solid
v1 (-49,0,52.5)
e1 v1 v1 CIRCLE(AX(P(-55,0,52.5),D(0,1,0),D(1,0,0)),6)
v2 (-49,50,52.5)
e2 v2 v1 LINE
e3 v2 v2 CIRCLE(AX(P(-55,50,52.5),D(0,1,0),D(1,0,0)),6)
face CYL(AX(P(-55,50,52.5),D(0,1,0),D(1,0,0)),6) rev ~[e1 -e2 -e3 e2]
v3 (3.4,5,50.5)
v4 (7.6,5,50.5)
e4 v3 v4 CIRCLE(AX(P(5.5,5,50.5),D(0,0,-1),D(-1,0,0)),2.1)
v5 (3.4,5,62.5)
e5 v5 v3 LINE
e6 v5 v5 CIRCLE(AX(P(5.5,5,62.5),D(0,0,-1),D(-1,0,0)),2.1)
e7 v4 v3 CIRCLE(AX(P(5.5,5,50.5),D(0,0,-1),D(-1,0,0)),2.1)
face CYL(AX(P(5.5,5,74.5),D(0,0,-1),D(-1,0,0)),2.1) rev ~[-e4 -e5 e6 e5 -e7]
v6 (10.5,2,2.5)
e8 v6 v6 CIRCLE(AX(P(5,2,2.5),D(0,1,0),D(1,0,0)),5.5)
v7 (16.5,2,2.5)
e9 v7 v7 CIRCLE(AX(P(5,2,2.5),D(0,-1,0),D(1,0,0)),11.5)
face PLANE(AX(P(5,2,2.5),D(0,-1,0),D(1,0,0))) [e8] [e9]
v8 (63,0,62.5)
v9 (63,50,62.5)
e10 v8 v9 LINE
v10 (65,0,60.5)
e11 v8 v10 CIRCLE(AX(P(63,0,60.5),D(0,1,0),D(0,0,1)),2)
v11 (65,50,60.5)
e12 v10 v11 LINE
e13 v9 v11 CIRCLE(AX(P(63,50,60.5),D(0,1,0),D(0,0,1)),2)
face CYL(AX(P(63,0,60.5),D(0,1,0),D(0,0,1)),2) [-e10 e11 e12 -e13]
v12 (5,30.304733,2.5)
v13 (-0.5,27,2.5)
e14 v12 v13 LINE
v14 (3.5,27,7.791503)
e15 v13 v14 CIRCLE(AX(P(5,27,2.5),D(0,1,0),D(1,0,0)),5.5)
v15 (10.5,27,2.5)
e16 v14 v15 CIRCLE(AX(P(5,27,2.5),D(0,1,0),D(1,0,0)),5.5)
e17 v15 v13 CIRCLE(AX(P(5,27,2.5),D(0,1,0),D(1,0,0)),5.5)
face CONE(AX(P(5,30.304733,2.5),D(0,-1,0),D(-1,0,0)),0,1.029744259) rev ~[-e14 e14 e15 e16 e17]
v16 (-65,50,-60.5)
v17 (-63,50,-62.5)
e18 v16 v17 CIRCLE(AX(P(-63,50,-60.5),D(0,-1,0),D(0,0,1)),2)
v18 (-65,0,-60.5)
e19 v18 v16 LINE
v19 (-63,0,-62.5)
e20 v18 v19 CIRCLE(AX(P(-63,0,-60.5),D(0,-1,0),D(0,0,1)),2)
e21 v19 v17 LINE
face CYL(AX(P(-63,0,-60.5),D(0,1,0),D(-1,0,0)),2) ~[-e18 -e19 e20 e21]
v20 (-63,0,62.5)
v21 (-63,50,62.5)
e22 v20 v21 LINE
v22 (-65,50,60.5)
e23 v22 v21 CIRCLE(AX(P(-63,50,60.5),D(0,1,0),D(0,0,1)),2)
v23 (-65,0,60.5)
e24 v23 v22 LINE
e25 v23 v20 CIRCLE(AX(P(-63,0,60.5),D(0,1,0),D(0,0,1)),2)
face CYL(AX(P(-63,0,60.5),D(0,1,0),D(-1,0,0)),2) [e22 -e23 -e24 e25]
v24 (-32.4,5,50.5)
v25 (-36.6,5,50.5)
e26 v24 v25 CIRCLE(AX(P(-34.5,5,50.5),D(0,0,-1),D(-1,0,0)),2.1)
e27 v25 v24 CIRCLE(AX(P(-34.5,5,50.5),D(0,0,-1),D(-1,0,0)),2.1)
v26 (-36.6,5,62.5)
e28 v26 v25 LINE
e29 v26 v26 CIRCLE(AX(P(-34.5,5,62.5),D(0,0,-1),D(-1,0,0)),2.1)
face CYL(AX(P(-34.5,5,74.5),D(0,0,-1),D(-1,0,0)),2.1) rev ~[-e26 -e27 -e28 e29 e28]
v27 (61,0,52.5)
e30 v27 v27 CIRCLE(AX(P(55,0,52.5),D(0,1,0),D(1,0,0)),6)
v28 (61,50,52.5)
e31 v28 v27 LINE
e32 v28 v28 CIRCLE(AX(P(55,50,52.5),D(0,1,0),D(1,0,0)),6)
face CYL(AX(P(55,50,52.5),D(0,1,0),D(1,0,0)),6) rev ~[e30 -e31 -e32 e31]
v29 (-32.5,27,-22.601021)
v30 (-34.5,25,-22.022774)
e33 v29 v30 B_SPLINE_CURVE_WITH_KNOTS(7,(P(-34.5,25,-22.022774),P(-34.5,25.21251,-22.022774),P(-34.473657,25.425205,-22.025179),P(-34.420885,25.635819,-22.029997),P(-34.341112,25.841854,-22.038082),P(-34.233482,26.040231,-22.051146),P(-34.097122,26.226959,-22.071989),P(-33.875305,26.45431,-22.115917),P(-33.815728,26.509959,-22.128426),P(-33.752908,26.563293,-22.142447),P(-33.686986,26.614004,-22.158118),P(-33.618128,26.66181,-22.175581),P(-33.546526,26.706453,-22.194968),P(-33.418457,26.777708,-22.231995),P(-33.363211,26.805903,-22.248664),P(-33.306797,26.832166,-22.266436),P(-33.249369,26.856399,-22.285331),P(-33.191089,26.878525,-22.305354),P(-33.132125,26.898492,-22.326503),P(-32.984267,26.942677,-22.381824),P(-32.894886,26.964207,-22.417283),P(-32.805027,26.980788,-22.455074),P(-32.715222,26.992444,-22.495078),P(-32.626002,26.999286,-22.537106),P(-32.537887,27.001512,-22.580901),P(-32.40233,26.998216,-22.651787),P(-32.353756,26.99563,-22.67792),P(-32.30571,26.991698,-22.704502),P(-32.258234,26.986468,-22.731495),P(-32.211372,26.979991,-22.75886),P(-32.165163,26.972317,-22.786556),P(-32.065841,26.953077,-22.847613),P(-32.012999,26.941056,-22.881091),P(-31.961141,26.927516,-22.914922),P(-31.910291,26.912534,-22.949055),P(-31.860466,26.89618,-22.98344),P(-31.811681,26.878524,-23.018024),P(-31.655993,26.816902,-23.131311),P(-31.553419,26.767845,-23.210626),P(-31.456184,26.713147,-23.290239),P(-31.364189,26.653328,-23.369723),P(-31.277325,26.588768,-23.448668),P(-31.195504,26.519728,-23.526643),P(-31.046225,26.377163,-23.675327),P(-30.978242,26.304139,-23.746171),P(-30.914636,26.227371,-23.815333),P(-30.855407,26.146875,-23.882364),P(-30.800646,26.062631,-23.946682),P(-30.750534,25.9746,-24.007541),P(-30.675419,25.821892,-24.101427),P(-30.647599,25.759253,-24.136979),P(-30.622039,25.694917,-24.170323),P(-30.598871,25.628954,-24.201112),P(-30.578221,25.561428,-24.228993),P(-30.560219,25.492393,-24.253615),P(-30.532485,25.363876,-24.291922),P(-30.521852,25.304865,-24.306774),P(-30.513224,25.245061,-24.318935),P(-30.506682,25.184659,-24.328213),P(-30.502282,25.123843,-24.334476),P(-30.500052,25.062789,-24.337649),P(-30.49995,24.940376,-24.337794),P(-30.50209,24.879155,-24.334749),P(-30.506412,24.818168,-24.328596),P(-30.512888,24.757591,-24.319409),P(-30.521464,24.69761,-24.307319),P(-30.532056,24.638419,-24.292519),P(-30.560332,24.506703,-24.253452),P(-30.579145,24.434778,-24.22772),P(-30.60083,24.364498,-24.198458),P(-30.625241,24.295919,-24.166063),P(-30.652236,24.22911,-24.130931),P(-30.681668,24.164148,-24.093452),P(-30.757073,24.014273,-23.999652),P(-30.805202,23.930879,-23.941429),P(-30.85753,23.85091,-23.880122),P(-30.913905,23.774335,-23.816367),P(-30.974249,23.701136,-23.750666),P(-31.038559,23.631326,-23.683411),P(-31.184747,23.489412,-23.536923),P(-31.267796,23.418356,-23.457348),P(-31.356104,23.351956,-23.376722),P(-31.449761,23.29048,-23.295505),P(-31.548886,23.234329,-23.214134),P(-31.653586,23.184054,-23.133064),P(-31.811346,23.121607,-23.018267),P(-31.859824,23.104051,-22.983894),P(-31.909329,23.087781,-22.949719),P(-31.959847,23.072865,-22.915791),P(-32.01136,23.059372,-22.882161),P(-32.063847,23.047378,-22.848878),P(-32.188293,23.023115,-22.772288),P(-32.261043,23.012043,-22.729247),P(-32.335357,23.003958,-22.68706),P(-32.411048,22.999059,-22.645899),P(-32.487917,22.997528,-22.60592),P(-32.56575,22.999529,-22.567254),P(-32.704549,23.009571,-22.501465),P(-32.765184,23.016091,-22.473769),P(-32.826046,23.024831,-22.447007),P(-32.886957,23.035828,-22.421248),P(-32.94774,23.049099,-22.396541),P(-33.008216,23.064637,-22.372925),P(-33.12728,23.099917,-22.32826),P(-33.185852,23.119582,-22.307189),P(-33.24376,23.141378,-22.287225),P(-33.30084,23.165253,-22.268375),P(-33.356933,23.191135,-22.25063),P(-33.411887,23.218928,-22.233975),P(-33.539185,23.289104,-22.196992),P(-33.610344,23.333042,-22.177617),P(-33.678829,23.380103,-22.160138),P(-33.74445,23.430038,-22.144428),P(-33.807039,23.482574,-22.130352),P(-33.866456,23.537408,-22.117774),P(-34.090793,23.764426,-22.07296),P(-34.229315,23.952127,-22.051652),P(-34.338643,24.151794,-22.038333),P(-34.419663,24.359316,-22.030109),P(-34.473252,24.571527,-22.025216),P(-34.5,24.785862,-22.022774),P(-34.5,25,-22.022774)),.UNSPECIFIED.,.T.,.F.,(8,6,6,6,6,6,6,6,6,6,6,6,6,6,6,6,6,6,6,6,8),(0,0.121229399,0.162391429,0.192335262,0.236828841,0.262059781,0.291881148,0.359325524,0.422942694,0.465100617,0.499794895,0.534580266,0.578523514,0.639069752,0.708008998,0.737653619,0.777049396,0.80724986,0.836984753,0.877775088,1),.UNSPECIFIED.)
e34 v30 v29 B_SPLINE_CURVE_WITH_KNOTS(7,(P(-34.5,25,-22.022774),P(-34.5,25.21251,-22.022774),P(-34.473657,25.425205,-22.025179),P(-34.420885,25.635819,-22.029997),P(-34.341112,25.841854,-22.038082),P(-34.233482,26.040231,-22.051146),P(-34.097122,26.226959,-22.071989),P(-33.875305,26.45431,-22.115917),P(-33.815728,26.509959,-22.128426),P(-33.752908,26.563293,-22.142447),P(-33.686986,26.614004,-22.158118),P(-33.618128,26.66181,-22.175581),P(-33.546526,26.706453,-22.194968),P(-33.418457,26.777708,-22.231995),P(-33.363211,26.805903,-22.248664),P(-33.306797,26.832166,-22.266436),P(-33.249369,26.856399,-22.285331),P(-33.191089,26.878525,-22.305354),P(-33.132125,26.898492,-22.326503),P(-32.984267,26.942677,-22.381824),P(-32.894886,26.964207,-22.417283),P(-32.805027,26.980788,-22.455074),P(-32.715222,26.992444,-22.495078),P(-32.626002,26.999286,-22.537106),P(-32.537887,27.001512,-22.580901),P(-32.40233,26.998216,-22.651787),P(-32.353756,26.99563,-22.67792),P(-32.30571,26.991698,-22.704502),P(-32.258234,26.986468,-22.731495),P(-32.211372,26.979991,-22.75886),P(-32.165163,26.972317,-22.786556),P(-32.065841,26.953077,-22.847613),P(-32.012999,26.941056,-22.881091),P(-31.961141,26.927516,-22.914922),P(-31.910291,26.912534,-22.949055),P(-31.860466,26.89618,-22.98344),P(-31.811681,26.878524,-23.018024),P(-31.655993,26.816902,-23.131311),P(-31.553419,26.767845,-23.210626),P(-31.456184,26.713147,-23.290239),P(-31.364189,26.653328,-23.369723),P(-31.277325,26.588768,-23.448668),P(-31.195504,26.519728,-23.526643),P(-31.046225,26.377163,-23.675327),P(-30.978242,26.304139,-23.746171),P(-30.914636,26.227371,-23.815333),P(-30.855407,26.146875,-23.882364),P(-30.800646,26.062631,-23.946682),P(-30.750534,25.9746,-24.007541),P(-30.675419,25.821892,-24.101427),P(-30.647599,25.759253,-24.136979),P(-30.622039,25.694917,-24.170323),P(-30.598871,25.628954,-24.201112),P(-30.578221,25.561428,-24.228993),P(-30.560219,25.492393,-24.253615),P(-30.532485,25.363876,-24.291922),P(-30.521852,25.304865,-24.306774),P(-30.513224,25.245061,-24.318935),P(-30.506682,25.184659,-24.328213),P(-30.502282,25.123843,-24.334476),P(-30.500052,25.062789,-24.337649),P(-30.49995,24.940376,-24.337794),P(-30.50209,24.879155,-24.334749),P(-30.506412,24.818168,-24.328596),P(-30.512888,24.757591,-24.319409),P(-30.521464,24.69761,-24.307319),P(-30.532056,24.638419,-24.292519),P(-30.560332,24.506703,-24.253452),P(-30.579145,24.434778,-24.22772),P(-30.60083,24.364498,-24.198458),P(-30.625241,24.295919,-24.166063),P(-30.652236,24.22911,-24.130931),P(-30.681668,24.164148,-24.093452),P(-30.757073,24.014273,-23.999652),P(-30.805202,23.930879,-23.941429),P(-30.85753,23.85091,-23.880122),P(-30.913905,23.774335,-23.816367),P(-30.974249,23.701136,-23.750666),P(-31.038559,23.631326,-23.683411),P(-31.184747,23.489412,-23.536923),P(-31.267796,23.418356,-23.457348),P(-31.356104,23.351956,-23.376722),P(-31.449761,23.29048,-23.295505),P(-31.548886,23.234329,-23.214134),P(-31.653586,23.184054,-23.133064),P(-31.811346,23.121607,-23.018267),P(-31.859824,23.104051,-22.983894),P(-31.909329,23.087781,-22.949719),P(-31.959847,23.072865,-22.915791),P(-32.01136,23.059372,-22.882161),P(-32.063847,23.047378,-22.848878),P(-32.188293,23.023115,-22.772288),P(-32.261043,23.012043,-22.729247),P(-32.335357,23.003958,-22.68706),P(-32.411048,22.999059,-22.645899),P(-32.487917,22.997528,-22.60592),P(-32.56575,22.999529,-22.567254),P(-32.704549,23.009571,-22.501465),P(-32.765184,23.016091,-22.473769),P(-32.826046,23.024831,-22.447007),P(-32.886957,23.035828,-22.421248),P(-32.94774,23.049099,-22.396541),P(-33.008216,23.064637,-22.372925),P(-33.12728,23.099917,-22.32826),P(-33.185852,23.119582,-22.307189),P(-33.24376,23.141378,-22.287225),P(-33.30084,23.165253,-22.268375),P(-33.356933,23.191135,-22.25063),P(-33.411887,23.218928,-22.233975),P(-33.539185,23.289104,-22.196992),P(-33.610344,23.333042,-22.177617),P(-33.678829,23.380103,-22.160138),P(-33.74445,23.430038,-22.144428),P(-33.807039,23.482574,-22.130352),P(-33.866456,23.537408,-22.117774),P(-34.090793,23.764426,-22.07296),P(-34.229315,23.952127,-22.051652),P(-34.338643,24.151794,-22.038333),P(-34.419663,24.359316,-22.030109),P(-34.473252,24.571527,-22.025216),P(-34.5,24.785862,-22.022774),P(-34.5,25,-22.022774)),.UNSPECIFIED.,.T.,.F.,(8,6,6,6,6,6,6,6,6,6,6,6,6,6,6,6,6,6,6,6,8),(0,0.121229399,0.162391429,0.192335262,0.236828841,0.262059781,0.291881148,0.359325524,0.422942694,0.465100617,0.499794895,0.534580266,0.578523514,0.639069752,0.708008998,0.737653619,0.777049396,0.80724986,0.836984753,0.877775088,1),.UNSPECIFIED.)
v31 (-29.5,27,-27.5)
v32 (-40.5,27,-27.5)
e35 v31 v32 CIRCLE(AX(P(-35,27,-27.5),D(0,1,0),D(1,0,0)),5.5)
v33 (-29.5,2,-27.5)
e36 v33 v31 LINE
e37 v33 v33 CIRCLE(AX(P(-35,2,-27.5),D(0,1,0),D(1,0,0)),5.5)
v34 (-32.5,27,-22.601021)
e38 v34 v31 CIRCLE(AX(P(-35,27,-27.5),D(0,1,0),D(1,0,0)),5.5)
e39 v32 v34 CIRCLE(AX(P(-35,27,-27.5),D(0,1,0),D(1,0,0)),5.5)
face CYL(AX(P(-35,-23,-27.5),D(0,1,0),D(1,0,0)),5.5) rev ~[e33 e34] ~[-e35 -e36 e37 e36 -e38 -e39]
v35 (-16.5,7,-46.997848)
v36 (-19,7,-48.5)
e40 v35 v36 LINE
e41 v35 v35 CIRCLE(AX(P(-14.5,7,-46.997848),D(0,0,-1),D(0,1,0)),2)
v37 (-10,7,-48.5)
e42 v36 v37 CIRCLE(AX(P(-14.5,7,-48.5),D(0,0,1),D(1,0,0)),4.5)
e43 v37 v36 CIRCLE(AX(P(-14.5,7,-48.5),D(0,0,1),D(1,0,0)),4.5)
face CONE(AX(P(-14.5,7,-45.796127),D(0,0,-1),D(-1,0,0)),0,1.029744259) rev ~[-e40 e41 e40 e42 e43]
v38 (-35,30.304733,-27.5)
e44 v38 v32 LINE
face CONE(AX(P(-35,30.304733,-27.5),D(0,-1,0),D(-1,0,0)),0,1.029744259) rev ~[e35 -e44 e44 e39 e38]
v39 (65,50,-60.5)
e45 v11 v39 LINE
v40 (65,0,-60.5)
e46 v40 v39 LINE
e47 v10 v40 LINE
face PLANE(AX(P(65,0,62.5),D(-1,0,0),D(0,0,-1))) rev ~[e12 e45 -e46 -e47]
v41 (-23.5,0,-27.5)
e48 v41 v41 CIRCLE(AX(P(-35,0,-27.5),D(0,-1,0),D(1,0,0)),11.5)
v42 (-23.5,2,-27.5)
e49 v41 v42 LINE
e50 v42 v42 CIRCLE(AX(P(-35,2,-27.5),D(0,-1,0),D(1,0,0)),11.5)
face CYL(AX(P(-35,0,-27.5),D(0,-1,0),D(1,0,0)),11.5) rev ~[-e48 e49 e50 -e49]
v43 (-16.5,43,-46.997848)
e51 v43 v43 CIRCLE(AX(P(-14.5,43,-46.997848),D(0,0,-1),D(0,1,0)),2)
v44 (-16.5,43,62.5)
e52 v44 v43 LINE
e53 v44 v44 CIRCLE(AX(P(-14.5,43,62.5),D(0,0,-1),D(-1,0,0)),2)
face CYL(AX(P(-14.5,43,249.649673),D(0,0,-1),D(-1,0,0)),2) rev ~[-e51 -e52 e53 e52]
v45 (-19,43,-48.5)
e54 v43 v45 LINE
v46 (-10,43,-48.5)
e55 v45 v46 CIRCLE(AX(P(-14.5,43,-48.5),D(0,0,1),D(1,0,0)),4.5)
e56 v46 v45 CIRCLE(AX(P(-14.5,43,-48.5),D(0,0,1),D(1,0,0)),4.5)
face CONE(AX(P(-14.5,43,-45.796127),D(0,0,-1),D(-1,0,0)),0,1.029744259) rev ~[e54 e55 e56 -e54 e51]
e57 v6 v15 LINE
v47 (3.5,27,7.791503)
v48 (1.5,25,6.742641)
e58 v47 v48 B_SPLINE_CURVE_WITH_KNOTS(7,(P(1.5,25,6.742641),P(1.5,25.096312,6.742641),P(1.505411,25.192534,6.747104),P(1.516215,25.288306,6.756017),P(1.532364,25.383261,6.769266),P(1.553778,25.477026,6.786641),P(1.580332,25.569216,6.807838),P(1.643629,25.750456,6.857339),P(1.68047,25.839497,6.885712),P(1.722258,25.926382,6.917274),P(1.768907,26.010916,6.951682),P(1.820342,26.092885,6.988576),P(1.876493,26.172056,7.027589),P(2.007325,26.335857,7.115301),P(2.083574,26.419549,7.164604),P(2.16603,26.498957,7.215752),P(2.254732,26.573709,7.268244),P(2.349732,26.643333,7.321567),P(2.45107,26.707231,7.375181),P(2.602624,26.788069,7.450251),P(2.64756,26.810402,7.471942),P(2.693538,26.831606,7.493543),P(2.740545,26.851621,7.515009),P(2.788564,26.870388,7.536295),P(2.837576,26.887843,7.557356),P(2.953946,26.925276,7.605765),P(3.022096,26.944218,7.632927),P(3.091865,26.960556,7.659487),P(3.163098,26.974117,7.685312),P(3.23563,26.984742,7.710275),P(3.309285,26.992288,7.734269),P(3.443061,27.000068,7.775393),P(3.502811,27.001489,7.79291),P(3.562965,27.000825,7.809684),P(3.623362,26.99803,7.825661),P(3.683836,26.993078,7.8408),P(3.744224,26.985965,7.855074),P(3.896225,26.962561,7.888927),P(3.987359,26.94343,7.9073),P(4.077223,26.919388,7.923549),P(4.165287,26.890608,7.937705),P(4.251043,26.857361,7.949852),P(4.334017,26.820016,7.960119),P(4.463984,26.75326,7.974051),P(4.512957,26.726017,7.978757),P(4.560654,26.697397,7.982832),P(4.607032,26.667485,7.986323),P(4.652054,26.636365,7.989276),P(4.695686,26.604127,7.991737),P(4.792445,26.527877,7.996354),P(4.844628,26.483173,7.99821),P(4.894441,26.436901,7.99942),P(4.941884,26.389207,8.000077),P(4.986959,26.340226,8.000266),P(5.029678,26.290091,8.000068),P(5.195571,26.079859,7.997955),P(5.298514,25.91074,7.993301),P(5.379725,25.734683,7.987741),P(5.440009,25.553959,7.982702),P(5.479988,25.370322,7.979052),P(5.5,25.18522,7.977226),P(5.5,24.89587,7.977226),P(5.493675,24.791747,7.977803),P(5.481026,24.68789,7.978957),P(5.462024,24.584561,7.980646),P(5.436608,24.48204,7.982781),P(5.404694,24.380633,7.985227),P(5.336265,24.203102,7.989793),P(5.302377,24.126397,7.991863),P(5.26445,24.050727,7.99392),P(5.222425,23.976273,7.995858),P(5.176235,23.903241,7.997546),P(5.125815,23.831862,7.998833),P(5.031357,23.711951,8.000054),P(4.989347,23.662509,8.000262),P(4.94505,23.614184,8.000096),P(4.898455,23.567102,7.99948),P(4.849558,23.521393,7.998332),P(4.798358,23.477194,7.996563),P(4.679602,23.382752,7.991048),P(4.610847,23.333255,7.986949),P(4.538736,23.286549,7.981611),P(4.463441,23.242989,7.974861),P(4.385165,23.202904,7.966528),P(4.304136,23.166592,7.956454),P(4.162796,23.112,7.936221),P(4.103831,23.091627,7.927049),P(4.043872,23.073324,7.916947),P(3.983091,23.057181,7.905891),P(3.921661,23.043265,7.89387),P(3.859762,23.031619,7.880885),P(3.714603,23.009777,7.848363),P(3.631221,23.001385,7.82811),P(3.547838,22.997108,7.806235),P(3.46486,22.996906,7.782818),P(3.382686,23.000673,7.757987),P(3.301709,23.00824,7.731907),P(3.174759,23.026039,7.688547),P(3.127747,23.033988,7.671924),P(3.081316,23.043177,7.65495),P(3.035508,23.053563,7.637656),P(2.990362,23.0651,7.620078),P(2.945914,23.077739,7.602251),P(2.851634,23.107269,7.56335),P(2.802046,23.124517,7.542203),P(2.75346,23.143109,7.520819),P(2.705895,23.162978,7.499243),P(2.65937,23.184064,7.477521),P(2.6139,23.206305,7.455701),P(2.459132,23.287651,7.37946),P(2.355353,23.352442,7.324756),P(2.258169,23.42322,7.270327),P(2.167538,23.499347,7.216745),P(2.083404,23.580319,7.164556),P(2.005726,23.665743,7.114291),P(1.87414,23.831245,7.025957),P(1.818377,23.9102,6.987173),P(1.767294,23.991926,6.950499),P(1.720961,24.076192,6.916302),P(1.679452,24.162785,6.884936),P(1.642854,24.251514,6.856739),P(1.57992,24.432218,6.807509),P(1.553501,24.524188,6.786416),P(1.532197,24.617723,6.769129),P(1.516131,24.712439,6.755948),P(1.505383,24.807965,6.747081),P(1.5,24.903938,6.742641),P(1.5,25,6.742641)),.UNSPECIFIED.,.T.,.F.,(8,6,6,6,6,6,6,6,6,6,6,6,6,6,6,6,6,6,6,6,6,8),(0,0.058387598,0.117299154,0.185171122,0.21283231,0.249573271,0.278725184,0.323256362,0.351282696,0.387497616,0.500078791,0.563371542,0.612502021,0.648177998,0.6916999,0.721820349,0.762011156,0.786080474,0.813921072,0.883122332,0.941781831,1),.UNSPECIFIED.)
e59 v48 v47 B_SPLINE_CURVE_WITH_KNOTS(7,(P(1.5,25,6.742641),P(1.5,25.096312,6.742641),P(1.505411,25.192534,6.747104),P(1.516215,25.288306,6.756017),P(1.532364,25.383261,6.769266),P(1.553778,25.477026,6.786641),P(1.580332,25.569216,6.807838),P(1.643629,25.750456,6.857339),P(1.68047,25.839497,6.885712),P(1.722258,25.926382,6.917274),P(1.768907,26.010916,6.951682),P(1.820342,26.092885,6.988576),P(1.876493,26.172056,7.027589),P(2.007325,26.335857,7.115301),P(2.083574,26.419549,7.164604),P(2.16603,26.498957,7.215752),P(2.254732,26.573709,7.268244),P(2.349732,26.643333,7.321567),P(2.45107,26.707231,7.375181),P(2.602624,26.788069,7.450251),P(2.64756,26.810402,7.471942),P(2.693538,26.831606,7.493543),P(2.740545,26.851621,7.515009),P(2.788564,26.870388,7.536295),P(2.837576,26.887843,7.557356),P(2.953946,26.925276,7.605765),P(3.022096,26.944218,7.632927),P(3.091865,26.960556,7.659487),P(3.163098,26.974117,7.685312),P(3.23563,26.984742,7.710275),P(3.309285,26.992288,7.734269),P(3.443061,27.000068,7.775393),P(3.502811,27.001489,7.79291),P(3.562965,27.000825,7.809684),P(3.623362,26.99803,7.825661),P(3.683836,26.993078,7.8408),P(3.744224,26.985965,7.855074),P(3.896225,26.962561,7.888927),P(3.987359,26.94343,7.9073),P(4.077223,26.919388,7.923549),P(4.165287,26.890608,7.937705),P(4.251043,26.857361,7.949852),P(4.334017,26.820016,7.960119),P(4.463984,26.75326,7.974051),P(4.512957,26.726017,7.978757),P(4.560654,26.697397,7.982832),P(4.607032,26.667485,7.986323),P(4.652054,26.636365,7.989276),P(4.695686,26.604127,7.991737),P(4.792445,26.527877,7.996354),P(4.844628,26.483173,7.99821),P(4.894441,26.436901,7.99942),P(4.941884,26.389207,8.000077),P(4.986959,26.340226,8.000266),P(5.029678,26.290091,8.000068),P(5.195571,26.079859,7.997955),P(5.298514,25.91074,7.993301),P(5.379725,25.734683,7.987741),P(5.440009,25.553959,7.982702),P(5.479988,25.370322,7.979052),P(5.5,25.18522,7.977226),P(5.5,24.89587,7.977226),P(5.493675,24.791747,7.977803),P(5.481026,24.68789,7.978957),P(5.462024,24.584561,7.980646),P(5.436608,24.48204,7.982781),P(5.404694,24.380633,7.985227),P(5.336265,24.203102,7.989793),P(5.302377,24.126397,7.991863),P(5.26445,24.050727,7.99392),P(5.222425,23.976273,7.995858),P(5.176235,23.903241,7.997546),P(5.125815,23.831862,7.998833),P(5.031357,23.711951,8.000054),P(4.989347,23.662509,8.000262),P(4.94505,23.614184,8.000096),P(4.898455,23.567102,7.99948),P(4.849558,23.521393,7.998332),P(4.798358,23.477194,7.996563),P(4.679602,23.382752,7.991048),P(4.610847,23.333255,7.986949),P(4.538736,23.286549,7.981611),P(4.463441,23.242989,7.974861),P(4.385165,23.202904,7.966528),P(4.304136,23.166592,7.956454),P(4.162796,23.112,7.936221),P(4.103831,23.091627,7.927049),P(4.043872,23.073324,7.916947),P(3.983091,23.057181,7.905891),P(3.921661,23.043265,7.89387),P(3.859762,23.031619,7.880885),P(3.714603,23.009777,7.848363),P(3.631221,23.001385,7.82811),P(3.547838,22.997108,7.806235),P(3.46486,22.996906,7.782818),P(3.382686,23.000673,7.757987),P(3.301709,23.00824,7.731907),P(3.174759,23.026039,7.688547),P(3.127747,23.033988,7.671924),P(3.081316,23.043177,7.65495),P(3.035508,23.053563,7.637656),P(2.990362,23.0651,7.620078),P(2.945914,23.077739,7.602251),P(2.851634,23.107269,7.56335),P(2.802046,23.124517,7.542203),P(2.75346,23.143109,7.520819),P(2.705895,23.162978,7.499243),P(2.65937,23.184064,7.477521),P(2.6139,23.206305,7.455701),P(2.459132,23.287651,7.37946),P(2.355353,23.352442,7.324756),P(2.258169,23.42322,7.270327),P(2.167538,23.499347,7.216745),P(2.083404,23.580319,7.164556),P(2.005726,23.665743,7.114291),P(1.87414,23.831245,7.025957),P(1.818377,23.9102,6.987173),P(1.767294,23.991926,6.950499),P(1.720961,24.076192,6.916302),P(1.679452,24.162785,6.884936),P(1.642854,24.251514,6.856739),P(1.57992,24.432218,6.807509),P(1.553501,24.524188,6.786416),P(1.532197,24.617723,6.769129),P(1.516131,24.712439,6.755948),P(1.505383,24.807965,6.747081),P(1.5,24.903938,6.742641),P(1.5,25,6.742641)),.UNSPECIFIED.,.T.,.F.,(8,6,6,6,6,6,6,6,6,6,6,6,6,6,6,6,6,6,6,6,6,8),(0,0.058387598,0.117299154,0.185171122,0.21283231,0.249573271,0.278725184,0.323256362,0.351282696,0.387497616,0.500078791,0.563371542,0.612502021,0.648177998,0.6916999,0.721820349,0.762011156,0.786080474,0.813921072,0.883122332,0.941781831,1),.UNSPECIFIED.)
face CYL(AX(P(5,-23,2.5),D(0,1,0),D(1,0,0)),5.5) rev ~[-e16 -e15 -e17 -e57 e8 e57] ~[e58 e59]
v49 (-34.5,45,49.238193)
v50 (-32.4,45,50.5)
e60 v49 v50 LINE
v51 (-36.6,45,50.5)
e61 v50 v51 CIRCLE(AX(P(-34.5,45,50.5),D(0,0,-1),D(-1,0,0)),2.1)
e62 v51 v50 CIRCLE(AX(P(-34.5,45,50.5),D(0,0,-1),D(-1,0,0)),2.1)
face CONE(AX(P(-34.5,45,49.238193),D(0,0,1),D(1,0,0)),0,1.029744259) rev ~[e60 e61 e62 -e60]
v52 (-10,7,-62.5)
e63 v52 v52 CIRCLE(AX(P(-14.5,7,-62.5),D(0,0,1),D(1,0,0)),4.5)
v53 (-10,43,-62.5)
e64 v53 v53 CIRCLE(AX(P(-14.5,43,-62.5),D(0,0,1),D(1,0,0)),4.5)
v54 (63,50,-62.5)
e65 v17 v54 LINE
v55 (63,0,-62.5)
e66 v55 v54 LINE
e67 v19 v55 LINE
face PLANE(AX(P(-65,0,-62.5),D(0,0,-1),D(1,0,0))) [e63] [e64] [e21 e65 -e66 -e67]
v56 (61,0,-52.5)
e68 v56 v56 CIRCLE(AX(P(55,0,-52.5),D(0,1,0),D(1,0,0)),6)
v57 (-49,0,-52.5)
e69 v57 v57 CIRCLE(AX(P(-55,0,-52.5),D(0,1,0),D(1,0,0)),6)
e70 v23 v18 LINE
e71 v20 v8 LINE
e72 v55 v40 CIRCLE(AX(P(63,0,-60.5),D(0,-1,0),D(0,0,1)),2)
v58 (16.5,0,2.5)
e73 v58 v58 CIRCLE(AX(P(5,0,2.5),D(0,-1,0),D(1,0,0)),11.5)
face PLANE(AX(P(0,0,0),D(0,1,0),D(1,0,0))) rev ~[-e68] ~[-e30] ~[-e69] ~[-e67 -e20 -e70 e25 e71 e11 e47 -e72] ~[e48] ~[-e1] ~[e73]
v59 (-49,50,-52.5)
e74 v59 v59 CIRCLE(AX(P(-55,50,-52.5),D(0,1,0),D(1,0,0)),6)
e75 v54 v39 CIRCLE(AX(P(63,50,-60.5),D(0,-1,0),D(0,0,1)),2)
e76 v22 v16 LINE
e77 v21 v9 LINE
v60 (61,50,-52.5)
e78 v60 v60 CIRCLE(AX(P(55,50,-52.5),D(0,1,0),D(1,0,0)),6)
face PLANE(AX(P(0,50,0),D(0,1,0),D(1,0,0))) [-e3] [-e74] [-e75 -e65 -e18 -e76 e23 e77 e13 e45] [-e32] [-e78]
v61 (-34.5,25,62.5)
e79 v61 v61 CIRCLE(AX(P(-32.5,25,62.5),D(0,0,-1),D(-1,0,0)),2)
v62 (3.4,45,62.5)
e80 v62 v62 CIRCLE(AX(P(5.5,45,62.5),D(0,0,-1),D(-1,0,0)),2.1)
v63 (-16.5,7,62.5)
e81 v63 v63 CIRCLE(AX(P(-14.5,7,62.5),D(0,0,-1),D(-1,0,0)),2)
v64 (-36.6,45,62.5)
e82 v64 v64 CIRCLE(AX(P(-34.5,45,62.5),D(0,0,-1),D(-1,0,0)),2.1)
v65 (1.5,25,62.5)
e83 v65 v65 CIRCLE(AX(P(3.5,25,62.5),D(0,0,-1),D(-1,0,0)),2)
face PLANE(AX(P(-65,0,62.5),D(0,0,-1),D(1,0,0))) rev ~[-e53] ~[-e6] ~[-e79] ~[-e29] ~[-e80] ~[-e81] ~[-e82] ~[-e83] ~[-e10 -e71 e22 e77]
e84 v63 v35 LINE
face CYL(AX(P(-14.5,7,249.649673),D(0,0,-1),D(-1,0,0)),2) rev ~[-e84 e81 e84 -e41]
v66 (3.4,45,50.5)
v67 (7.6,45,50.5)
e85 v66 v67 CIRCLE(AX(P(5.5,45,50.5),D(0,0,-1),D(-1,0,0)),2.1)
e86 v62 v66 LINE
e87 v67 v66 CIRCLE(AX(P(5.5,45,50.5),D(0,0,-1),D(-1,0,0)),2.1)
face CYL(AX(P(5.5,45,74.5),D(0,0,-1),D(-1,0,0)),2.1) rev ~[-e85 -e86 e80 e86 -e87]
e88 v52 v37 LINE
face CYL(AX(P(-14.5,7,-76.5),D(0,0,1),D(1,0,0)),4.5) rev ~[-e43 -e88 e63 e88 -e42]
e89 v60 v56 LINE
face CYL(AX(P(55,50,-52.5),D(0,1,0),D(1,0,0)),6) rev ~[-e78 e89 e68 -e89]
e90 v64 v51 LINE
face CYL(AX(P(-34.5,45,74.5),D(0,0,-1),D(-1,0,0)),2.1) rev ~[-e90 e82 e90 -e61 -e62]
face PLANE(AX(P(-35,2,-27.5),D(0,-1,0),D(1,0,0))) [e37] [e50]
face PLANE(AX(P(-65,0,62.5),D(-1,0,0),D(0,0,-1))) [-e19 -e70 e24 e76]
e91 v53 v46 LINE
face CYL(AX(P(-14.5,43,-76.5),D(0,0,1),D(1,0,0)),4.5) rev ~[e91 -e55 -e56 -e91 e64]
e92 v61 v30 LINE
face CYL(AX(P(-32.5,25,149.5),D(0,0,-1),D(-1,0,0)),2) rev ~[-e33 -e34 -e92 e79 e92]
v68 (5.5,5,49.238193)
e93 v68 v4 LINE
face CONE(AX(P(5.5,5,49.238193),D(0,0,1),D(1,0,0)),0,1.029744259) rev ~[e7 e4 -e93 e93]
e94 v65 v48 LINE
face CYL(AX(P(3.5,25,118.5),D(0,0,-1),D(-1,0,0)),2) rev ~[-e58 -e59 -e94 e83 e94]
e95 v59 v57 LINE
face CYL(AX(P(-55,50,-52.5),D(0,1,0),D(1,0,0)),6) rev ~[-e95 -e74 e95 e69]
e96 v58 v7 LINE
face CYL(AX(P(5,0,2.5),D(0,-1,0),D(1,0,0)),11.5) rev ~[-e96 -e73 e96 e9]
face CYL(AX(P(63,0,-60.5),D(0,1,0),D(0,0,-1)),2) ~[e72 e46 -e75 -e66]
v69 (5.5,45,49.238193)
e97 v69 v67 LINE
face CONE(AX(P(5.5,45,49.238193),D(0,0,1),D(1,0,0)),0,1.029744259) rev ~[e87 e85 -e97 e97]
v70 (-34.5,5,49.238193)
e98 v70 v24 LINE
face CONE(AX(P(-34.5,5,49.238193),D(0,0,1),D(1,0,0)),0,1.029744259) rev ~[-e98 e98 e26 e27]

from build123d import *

# Parameters (mm, degrees)
SKETCH_1_W             = 130
SKETCH_1_H             = 125
EXTRUDE_1_DEPTH        = 50
SKETCH_2_R             = 6
CUT_EXTRUDE_1_DEPTH    = 51
FILLET_1_R             = 2
SKETCH_4_R             = 11.5
CUT_EXTRUDE_2_DEPTH    = 2
MM_4_D                 = 11
MM_4_DEPTH             = 25
MM_4_TIP               = 3.304733405
MM_4_2_D               = 11
MM_4_2_DEPTH           = 25
MM_4_2_TIP             = 3.304733405
HOLE_WIZARD_M5_1_D     = 4.2
HOLE_WIZARD_M5_1_DEPTH = 12
HOLE_WIZARD_M5_1_TIP   = 1.2618073
MM_3_D                 = 4
MM_3_DEPTH             = 56
MM_3_TIP               = 1.201721238
MM_4_3_D               = 4
MM_4_3_DEPTH           = 87
MM_4_3_TIP             = 1.201721238
MM_5_D                 = 4
M10X1_0_1_D            = 9
M10X1_0_1_DEPTH        = 14
M10X1_0_1_TIP          = 2.703872786


with BuildPart() as part:
    # 草图1 → 凸台-拉伸1 (new body)
    with BuildSketch(Plane(origin=(0, 0, 0), x_dir=(1, 0, 0), z_dir=(0, 1, 0))):
        Rectangle(SKETCH_1_W, SKETCH_1_H)
    extrude(amount=EXTRUDE_1_DEPTH)

    # 草图2 → 切除-拉伸1 (cut, through all)
    with BuildSketch(Plane(origin=(0, 50, 0), x_dir=(1, 0, 0), z_dir=(0, 1, 0))):
        with Locations((-55, 52.5)):
            Circle(SKETCH_2_R)
        with Locations((55, 52.5)):
            Circle(SKETCH_2_R)
        with Locations((55, -52.5)):
            Circle(SKETCH_2_R)
        with Locations((-55, -52.5)):
            Circle(SKETCH_2_R)
    extrude(amount=-CUT_EXTRUDE_1_DEPTH, mode=Mode.SUBTRACT)

    # 圆角1
    fillet_1_edges = [part.edges().sort_by_distance(p)[0] for p in [
        (65, 25, 62.5),
        (-65, 25, 62.5),
        (-65, 25, -62.5),
        (65, 25, -62.5),
    ]]
    fillet(fillet_1_edges, radius=FILLET_1_R)

    # 草图4 → 切除-拉伸2 (cut)
    with BuildSketch(Plane.XZ):
        with Locations((-35, -27.5)):
            Circle(SKETCH_4_R)
        with Locations((5, 2.5)):
            Circle(SKETCH_4_R)
    extrude(amount=-CUT_EXTRUDE_2_DEPTH, mode=Mode.SUBTRACT)

    # mm _4
    with Locations(Plane(origin=(0, 2, 0), x_dir=(-1, 0, 0), z_dir=(0, -1, 0))):
        with Locations((-5, -2.5)):
            Hole(MM_4_D / 2, depth=MM_4_DEPTH)
            with Locations((0, 0, -(MM_4_DEPTH + MM_4_TIP / 2))):  # 118° drill point
                Cone(0, MM_4_D / 2, MM_4_TIP, mode=Mode.SUBTRACT)

    # mm _4 2
    with Locations(Plane(origin=(0, 2, 0), x_dir=(-1, 0, 0), z_dir=(0, -1, 0))):
        with Locations((35, 27.5)):
            Hole(MM_4_2_D / 2, depth=MM_4_2_DEPTH)
            with Locations((0, 0, -(MM_4_2_DEPTH + MM_4_2_TIP / 2))):  # 118° drill point
                Cone(0, MM_4_2_D / 2, MM_4_2_TIP, mode=Mode.SUBTRACT)

    # M5 螺纹孔1
    with Locations(Plane.XY.offset(62.5)):
        with Locations((-34.5, 45), (5.5, 45), (5.5, 5), (-34.5, 5)):
            Hole(HOLE_WIZARD_M5_1_D / 2, depth=HOLE_WIZARD_M5_1_DEPTH)
            with Locations((0, 0, -(HOLE_WIZARD_M5_1_DEPTH + HOLE_WIZARD_M5_1_TIP / 2))):  # 118° drill point
                Cone(0, HOLE_WIZARD_M5_1_D / 2, HOLE_WIZARD_M5_1_TIP, mode=Mode.SUBTRACT)

    # 大小mm 暗销孔3
    with Locations(Plane.XY.offset(62.5)):
        with Locations((3.5, 25)):
            Hole(MM_3_D / 2, depth=MM_3_DEPTH)
            with Locations((0, 0, -(MM_3_DEPTH + MM_3_TIP / 2))):  # 118° drill point
                Cone(0, MM_3_D / 2, MM_3_TIP, mode=Mode.SUBTRACT)

    # mm _4 3
    with Locations(Plane.XY.offset(62.5)):
        with Locations((-32.5, 25)):
            Hole(MM_4_3_D / 2, depth=MM_4_3_DEPTH)
            with Locations((0, 0, -(MM_4_3_DEPTH + MM_4_3_TIP / 2))):  # 118° drill point
                Cone(0, MM_4_3_D / 2, MM_4_3_TIP, mode=Mode.SUBTRACT)

    # 大小mm 暗销孔5 (through all)
    with Locations(Plane.XY.offset(62.5)):
        with Locations((-14.5, 43), (-14.5, 7)):
            Hole(MM_5_D / 2)

    # M10x1.0 螺纹孔1
    with Locations(Plane(origin=(0, 0, -62.5), x_dir=(-1, 0, 0), z_dir=(0, 0, -1))):
        with Locations((14.5, 43), (14.5, 7)):
            Hole(M10X1_0_1_D / 2, depth=M10X1_0_1_DEPTH)
            with Locations((0, 0, -(M10X1_0_1_DEPTH + M10X1_0_1_TIP / 2))):  # 118° drill point
                Cone(0, M10X1_0_1_D / 2, M10X1_0_1_TIP, mode=Mode.SUBTRACT)


solid = part.part
